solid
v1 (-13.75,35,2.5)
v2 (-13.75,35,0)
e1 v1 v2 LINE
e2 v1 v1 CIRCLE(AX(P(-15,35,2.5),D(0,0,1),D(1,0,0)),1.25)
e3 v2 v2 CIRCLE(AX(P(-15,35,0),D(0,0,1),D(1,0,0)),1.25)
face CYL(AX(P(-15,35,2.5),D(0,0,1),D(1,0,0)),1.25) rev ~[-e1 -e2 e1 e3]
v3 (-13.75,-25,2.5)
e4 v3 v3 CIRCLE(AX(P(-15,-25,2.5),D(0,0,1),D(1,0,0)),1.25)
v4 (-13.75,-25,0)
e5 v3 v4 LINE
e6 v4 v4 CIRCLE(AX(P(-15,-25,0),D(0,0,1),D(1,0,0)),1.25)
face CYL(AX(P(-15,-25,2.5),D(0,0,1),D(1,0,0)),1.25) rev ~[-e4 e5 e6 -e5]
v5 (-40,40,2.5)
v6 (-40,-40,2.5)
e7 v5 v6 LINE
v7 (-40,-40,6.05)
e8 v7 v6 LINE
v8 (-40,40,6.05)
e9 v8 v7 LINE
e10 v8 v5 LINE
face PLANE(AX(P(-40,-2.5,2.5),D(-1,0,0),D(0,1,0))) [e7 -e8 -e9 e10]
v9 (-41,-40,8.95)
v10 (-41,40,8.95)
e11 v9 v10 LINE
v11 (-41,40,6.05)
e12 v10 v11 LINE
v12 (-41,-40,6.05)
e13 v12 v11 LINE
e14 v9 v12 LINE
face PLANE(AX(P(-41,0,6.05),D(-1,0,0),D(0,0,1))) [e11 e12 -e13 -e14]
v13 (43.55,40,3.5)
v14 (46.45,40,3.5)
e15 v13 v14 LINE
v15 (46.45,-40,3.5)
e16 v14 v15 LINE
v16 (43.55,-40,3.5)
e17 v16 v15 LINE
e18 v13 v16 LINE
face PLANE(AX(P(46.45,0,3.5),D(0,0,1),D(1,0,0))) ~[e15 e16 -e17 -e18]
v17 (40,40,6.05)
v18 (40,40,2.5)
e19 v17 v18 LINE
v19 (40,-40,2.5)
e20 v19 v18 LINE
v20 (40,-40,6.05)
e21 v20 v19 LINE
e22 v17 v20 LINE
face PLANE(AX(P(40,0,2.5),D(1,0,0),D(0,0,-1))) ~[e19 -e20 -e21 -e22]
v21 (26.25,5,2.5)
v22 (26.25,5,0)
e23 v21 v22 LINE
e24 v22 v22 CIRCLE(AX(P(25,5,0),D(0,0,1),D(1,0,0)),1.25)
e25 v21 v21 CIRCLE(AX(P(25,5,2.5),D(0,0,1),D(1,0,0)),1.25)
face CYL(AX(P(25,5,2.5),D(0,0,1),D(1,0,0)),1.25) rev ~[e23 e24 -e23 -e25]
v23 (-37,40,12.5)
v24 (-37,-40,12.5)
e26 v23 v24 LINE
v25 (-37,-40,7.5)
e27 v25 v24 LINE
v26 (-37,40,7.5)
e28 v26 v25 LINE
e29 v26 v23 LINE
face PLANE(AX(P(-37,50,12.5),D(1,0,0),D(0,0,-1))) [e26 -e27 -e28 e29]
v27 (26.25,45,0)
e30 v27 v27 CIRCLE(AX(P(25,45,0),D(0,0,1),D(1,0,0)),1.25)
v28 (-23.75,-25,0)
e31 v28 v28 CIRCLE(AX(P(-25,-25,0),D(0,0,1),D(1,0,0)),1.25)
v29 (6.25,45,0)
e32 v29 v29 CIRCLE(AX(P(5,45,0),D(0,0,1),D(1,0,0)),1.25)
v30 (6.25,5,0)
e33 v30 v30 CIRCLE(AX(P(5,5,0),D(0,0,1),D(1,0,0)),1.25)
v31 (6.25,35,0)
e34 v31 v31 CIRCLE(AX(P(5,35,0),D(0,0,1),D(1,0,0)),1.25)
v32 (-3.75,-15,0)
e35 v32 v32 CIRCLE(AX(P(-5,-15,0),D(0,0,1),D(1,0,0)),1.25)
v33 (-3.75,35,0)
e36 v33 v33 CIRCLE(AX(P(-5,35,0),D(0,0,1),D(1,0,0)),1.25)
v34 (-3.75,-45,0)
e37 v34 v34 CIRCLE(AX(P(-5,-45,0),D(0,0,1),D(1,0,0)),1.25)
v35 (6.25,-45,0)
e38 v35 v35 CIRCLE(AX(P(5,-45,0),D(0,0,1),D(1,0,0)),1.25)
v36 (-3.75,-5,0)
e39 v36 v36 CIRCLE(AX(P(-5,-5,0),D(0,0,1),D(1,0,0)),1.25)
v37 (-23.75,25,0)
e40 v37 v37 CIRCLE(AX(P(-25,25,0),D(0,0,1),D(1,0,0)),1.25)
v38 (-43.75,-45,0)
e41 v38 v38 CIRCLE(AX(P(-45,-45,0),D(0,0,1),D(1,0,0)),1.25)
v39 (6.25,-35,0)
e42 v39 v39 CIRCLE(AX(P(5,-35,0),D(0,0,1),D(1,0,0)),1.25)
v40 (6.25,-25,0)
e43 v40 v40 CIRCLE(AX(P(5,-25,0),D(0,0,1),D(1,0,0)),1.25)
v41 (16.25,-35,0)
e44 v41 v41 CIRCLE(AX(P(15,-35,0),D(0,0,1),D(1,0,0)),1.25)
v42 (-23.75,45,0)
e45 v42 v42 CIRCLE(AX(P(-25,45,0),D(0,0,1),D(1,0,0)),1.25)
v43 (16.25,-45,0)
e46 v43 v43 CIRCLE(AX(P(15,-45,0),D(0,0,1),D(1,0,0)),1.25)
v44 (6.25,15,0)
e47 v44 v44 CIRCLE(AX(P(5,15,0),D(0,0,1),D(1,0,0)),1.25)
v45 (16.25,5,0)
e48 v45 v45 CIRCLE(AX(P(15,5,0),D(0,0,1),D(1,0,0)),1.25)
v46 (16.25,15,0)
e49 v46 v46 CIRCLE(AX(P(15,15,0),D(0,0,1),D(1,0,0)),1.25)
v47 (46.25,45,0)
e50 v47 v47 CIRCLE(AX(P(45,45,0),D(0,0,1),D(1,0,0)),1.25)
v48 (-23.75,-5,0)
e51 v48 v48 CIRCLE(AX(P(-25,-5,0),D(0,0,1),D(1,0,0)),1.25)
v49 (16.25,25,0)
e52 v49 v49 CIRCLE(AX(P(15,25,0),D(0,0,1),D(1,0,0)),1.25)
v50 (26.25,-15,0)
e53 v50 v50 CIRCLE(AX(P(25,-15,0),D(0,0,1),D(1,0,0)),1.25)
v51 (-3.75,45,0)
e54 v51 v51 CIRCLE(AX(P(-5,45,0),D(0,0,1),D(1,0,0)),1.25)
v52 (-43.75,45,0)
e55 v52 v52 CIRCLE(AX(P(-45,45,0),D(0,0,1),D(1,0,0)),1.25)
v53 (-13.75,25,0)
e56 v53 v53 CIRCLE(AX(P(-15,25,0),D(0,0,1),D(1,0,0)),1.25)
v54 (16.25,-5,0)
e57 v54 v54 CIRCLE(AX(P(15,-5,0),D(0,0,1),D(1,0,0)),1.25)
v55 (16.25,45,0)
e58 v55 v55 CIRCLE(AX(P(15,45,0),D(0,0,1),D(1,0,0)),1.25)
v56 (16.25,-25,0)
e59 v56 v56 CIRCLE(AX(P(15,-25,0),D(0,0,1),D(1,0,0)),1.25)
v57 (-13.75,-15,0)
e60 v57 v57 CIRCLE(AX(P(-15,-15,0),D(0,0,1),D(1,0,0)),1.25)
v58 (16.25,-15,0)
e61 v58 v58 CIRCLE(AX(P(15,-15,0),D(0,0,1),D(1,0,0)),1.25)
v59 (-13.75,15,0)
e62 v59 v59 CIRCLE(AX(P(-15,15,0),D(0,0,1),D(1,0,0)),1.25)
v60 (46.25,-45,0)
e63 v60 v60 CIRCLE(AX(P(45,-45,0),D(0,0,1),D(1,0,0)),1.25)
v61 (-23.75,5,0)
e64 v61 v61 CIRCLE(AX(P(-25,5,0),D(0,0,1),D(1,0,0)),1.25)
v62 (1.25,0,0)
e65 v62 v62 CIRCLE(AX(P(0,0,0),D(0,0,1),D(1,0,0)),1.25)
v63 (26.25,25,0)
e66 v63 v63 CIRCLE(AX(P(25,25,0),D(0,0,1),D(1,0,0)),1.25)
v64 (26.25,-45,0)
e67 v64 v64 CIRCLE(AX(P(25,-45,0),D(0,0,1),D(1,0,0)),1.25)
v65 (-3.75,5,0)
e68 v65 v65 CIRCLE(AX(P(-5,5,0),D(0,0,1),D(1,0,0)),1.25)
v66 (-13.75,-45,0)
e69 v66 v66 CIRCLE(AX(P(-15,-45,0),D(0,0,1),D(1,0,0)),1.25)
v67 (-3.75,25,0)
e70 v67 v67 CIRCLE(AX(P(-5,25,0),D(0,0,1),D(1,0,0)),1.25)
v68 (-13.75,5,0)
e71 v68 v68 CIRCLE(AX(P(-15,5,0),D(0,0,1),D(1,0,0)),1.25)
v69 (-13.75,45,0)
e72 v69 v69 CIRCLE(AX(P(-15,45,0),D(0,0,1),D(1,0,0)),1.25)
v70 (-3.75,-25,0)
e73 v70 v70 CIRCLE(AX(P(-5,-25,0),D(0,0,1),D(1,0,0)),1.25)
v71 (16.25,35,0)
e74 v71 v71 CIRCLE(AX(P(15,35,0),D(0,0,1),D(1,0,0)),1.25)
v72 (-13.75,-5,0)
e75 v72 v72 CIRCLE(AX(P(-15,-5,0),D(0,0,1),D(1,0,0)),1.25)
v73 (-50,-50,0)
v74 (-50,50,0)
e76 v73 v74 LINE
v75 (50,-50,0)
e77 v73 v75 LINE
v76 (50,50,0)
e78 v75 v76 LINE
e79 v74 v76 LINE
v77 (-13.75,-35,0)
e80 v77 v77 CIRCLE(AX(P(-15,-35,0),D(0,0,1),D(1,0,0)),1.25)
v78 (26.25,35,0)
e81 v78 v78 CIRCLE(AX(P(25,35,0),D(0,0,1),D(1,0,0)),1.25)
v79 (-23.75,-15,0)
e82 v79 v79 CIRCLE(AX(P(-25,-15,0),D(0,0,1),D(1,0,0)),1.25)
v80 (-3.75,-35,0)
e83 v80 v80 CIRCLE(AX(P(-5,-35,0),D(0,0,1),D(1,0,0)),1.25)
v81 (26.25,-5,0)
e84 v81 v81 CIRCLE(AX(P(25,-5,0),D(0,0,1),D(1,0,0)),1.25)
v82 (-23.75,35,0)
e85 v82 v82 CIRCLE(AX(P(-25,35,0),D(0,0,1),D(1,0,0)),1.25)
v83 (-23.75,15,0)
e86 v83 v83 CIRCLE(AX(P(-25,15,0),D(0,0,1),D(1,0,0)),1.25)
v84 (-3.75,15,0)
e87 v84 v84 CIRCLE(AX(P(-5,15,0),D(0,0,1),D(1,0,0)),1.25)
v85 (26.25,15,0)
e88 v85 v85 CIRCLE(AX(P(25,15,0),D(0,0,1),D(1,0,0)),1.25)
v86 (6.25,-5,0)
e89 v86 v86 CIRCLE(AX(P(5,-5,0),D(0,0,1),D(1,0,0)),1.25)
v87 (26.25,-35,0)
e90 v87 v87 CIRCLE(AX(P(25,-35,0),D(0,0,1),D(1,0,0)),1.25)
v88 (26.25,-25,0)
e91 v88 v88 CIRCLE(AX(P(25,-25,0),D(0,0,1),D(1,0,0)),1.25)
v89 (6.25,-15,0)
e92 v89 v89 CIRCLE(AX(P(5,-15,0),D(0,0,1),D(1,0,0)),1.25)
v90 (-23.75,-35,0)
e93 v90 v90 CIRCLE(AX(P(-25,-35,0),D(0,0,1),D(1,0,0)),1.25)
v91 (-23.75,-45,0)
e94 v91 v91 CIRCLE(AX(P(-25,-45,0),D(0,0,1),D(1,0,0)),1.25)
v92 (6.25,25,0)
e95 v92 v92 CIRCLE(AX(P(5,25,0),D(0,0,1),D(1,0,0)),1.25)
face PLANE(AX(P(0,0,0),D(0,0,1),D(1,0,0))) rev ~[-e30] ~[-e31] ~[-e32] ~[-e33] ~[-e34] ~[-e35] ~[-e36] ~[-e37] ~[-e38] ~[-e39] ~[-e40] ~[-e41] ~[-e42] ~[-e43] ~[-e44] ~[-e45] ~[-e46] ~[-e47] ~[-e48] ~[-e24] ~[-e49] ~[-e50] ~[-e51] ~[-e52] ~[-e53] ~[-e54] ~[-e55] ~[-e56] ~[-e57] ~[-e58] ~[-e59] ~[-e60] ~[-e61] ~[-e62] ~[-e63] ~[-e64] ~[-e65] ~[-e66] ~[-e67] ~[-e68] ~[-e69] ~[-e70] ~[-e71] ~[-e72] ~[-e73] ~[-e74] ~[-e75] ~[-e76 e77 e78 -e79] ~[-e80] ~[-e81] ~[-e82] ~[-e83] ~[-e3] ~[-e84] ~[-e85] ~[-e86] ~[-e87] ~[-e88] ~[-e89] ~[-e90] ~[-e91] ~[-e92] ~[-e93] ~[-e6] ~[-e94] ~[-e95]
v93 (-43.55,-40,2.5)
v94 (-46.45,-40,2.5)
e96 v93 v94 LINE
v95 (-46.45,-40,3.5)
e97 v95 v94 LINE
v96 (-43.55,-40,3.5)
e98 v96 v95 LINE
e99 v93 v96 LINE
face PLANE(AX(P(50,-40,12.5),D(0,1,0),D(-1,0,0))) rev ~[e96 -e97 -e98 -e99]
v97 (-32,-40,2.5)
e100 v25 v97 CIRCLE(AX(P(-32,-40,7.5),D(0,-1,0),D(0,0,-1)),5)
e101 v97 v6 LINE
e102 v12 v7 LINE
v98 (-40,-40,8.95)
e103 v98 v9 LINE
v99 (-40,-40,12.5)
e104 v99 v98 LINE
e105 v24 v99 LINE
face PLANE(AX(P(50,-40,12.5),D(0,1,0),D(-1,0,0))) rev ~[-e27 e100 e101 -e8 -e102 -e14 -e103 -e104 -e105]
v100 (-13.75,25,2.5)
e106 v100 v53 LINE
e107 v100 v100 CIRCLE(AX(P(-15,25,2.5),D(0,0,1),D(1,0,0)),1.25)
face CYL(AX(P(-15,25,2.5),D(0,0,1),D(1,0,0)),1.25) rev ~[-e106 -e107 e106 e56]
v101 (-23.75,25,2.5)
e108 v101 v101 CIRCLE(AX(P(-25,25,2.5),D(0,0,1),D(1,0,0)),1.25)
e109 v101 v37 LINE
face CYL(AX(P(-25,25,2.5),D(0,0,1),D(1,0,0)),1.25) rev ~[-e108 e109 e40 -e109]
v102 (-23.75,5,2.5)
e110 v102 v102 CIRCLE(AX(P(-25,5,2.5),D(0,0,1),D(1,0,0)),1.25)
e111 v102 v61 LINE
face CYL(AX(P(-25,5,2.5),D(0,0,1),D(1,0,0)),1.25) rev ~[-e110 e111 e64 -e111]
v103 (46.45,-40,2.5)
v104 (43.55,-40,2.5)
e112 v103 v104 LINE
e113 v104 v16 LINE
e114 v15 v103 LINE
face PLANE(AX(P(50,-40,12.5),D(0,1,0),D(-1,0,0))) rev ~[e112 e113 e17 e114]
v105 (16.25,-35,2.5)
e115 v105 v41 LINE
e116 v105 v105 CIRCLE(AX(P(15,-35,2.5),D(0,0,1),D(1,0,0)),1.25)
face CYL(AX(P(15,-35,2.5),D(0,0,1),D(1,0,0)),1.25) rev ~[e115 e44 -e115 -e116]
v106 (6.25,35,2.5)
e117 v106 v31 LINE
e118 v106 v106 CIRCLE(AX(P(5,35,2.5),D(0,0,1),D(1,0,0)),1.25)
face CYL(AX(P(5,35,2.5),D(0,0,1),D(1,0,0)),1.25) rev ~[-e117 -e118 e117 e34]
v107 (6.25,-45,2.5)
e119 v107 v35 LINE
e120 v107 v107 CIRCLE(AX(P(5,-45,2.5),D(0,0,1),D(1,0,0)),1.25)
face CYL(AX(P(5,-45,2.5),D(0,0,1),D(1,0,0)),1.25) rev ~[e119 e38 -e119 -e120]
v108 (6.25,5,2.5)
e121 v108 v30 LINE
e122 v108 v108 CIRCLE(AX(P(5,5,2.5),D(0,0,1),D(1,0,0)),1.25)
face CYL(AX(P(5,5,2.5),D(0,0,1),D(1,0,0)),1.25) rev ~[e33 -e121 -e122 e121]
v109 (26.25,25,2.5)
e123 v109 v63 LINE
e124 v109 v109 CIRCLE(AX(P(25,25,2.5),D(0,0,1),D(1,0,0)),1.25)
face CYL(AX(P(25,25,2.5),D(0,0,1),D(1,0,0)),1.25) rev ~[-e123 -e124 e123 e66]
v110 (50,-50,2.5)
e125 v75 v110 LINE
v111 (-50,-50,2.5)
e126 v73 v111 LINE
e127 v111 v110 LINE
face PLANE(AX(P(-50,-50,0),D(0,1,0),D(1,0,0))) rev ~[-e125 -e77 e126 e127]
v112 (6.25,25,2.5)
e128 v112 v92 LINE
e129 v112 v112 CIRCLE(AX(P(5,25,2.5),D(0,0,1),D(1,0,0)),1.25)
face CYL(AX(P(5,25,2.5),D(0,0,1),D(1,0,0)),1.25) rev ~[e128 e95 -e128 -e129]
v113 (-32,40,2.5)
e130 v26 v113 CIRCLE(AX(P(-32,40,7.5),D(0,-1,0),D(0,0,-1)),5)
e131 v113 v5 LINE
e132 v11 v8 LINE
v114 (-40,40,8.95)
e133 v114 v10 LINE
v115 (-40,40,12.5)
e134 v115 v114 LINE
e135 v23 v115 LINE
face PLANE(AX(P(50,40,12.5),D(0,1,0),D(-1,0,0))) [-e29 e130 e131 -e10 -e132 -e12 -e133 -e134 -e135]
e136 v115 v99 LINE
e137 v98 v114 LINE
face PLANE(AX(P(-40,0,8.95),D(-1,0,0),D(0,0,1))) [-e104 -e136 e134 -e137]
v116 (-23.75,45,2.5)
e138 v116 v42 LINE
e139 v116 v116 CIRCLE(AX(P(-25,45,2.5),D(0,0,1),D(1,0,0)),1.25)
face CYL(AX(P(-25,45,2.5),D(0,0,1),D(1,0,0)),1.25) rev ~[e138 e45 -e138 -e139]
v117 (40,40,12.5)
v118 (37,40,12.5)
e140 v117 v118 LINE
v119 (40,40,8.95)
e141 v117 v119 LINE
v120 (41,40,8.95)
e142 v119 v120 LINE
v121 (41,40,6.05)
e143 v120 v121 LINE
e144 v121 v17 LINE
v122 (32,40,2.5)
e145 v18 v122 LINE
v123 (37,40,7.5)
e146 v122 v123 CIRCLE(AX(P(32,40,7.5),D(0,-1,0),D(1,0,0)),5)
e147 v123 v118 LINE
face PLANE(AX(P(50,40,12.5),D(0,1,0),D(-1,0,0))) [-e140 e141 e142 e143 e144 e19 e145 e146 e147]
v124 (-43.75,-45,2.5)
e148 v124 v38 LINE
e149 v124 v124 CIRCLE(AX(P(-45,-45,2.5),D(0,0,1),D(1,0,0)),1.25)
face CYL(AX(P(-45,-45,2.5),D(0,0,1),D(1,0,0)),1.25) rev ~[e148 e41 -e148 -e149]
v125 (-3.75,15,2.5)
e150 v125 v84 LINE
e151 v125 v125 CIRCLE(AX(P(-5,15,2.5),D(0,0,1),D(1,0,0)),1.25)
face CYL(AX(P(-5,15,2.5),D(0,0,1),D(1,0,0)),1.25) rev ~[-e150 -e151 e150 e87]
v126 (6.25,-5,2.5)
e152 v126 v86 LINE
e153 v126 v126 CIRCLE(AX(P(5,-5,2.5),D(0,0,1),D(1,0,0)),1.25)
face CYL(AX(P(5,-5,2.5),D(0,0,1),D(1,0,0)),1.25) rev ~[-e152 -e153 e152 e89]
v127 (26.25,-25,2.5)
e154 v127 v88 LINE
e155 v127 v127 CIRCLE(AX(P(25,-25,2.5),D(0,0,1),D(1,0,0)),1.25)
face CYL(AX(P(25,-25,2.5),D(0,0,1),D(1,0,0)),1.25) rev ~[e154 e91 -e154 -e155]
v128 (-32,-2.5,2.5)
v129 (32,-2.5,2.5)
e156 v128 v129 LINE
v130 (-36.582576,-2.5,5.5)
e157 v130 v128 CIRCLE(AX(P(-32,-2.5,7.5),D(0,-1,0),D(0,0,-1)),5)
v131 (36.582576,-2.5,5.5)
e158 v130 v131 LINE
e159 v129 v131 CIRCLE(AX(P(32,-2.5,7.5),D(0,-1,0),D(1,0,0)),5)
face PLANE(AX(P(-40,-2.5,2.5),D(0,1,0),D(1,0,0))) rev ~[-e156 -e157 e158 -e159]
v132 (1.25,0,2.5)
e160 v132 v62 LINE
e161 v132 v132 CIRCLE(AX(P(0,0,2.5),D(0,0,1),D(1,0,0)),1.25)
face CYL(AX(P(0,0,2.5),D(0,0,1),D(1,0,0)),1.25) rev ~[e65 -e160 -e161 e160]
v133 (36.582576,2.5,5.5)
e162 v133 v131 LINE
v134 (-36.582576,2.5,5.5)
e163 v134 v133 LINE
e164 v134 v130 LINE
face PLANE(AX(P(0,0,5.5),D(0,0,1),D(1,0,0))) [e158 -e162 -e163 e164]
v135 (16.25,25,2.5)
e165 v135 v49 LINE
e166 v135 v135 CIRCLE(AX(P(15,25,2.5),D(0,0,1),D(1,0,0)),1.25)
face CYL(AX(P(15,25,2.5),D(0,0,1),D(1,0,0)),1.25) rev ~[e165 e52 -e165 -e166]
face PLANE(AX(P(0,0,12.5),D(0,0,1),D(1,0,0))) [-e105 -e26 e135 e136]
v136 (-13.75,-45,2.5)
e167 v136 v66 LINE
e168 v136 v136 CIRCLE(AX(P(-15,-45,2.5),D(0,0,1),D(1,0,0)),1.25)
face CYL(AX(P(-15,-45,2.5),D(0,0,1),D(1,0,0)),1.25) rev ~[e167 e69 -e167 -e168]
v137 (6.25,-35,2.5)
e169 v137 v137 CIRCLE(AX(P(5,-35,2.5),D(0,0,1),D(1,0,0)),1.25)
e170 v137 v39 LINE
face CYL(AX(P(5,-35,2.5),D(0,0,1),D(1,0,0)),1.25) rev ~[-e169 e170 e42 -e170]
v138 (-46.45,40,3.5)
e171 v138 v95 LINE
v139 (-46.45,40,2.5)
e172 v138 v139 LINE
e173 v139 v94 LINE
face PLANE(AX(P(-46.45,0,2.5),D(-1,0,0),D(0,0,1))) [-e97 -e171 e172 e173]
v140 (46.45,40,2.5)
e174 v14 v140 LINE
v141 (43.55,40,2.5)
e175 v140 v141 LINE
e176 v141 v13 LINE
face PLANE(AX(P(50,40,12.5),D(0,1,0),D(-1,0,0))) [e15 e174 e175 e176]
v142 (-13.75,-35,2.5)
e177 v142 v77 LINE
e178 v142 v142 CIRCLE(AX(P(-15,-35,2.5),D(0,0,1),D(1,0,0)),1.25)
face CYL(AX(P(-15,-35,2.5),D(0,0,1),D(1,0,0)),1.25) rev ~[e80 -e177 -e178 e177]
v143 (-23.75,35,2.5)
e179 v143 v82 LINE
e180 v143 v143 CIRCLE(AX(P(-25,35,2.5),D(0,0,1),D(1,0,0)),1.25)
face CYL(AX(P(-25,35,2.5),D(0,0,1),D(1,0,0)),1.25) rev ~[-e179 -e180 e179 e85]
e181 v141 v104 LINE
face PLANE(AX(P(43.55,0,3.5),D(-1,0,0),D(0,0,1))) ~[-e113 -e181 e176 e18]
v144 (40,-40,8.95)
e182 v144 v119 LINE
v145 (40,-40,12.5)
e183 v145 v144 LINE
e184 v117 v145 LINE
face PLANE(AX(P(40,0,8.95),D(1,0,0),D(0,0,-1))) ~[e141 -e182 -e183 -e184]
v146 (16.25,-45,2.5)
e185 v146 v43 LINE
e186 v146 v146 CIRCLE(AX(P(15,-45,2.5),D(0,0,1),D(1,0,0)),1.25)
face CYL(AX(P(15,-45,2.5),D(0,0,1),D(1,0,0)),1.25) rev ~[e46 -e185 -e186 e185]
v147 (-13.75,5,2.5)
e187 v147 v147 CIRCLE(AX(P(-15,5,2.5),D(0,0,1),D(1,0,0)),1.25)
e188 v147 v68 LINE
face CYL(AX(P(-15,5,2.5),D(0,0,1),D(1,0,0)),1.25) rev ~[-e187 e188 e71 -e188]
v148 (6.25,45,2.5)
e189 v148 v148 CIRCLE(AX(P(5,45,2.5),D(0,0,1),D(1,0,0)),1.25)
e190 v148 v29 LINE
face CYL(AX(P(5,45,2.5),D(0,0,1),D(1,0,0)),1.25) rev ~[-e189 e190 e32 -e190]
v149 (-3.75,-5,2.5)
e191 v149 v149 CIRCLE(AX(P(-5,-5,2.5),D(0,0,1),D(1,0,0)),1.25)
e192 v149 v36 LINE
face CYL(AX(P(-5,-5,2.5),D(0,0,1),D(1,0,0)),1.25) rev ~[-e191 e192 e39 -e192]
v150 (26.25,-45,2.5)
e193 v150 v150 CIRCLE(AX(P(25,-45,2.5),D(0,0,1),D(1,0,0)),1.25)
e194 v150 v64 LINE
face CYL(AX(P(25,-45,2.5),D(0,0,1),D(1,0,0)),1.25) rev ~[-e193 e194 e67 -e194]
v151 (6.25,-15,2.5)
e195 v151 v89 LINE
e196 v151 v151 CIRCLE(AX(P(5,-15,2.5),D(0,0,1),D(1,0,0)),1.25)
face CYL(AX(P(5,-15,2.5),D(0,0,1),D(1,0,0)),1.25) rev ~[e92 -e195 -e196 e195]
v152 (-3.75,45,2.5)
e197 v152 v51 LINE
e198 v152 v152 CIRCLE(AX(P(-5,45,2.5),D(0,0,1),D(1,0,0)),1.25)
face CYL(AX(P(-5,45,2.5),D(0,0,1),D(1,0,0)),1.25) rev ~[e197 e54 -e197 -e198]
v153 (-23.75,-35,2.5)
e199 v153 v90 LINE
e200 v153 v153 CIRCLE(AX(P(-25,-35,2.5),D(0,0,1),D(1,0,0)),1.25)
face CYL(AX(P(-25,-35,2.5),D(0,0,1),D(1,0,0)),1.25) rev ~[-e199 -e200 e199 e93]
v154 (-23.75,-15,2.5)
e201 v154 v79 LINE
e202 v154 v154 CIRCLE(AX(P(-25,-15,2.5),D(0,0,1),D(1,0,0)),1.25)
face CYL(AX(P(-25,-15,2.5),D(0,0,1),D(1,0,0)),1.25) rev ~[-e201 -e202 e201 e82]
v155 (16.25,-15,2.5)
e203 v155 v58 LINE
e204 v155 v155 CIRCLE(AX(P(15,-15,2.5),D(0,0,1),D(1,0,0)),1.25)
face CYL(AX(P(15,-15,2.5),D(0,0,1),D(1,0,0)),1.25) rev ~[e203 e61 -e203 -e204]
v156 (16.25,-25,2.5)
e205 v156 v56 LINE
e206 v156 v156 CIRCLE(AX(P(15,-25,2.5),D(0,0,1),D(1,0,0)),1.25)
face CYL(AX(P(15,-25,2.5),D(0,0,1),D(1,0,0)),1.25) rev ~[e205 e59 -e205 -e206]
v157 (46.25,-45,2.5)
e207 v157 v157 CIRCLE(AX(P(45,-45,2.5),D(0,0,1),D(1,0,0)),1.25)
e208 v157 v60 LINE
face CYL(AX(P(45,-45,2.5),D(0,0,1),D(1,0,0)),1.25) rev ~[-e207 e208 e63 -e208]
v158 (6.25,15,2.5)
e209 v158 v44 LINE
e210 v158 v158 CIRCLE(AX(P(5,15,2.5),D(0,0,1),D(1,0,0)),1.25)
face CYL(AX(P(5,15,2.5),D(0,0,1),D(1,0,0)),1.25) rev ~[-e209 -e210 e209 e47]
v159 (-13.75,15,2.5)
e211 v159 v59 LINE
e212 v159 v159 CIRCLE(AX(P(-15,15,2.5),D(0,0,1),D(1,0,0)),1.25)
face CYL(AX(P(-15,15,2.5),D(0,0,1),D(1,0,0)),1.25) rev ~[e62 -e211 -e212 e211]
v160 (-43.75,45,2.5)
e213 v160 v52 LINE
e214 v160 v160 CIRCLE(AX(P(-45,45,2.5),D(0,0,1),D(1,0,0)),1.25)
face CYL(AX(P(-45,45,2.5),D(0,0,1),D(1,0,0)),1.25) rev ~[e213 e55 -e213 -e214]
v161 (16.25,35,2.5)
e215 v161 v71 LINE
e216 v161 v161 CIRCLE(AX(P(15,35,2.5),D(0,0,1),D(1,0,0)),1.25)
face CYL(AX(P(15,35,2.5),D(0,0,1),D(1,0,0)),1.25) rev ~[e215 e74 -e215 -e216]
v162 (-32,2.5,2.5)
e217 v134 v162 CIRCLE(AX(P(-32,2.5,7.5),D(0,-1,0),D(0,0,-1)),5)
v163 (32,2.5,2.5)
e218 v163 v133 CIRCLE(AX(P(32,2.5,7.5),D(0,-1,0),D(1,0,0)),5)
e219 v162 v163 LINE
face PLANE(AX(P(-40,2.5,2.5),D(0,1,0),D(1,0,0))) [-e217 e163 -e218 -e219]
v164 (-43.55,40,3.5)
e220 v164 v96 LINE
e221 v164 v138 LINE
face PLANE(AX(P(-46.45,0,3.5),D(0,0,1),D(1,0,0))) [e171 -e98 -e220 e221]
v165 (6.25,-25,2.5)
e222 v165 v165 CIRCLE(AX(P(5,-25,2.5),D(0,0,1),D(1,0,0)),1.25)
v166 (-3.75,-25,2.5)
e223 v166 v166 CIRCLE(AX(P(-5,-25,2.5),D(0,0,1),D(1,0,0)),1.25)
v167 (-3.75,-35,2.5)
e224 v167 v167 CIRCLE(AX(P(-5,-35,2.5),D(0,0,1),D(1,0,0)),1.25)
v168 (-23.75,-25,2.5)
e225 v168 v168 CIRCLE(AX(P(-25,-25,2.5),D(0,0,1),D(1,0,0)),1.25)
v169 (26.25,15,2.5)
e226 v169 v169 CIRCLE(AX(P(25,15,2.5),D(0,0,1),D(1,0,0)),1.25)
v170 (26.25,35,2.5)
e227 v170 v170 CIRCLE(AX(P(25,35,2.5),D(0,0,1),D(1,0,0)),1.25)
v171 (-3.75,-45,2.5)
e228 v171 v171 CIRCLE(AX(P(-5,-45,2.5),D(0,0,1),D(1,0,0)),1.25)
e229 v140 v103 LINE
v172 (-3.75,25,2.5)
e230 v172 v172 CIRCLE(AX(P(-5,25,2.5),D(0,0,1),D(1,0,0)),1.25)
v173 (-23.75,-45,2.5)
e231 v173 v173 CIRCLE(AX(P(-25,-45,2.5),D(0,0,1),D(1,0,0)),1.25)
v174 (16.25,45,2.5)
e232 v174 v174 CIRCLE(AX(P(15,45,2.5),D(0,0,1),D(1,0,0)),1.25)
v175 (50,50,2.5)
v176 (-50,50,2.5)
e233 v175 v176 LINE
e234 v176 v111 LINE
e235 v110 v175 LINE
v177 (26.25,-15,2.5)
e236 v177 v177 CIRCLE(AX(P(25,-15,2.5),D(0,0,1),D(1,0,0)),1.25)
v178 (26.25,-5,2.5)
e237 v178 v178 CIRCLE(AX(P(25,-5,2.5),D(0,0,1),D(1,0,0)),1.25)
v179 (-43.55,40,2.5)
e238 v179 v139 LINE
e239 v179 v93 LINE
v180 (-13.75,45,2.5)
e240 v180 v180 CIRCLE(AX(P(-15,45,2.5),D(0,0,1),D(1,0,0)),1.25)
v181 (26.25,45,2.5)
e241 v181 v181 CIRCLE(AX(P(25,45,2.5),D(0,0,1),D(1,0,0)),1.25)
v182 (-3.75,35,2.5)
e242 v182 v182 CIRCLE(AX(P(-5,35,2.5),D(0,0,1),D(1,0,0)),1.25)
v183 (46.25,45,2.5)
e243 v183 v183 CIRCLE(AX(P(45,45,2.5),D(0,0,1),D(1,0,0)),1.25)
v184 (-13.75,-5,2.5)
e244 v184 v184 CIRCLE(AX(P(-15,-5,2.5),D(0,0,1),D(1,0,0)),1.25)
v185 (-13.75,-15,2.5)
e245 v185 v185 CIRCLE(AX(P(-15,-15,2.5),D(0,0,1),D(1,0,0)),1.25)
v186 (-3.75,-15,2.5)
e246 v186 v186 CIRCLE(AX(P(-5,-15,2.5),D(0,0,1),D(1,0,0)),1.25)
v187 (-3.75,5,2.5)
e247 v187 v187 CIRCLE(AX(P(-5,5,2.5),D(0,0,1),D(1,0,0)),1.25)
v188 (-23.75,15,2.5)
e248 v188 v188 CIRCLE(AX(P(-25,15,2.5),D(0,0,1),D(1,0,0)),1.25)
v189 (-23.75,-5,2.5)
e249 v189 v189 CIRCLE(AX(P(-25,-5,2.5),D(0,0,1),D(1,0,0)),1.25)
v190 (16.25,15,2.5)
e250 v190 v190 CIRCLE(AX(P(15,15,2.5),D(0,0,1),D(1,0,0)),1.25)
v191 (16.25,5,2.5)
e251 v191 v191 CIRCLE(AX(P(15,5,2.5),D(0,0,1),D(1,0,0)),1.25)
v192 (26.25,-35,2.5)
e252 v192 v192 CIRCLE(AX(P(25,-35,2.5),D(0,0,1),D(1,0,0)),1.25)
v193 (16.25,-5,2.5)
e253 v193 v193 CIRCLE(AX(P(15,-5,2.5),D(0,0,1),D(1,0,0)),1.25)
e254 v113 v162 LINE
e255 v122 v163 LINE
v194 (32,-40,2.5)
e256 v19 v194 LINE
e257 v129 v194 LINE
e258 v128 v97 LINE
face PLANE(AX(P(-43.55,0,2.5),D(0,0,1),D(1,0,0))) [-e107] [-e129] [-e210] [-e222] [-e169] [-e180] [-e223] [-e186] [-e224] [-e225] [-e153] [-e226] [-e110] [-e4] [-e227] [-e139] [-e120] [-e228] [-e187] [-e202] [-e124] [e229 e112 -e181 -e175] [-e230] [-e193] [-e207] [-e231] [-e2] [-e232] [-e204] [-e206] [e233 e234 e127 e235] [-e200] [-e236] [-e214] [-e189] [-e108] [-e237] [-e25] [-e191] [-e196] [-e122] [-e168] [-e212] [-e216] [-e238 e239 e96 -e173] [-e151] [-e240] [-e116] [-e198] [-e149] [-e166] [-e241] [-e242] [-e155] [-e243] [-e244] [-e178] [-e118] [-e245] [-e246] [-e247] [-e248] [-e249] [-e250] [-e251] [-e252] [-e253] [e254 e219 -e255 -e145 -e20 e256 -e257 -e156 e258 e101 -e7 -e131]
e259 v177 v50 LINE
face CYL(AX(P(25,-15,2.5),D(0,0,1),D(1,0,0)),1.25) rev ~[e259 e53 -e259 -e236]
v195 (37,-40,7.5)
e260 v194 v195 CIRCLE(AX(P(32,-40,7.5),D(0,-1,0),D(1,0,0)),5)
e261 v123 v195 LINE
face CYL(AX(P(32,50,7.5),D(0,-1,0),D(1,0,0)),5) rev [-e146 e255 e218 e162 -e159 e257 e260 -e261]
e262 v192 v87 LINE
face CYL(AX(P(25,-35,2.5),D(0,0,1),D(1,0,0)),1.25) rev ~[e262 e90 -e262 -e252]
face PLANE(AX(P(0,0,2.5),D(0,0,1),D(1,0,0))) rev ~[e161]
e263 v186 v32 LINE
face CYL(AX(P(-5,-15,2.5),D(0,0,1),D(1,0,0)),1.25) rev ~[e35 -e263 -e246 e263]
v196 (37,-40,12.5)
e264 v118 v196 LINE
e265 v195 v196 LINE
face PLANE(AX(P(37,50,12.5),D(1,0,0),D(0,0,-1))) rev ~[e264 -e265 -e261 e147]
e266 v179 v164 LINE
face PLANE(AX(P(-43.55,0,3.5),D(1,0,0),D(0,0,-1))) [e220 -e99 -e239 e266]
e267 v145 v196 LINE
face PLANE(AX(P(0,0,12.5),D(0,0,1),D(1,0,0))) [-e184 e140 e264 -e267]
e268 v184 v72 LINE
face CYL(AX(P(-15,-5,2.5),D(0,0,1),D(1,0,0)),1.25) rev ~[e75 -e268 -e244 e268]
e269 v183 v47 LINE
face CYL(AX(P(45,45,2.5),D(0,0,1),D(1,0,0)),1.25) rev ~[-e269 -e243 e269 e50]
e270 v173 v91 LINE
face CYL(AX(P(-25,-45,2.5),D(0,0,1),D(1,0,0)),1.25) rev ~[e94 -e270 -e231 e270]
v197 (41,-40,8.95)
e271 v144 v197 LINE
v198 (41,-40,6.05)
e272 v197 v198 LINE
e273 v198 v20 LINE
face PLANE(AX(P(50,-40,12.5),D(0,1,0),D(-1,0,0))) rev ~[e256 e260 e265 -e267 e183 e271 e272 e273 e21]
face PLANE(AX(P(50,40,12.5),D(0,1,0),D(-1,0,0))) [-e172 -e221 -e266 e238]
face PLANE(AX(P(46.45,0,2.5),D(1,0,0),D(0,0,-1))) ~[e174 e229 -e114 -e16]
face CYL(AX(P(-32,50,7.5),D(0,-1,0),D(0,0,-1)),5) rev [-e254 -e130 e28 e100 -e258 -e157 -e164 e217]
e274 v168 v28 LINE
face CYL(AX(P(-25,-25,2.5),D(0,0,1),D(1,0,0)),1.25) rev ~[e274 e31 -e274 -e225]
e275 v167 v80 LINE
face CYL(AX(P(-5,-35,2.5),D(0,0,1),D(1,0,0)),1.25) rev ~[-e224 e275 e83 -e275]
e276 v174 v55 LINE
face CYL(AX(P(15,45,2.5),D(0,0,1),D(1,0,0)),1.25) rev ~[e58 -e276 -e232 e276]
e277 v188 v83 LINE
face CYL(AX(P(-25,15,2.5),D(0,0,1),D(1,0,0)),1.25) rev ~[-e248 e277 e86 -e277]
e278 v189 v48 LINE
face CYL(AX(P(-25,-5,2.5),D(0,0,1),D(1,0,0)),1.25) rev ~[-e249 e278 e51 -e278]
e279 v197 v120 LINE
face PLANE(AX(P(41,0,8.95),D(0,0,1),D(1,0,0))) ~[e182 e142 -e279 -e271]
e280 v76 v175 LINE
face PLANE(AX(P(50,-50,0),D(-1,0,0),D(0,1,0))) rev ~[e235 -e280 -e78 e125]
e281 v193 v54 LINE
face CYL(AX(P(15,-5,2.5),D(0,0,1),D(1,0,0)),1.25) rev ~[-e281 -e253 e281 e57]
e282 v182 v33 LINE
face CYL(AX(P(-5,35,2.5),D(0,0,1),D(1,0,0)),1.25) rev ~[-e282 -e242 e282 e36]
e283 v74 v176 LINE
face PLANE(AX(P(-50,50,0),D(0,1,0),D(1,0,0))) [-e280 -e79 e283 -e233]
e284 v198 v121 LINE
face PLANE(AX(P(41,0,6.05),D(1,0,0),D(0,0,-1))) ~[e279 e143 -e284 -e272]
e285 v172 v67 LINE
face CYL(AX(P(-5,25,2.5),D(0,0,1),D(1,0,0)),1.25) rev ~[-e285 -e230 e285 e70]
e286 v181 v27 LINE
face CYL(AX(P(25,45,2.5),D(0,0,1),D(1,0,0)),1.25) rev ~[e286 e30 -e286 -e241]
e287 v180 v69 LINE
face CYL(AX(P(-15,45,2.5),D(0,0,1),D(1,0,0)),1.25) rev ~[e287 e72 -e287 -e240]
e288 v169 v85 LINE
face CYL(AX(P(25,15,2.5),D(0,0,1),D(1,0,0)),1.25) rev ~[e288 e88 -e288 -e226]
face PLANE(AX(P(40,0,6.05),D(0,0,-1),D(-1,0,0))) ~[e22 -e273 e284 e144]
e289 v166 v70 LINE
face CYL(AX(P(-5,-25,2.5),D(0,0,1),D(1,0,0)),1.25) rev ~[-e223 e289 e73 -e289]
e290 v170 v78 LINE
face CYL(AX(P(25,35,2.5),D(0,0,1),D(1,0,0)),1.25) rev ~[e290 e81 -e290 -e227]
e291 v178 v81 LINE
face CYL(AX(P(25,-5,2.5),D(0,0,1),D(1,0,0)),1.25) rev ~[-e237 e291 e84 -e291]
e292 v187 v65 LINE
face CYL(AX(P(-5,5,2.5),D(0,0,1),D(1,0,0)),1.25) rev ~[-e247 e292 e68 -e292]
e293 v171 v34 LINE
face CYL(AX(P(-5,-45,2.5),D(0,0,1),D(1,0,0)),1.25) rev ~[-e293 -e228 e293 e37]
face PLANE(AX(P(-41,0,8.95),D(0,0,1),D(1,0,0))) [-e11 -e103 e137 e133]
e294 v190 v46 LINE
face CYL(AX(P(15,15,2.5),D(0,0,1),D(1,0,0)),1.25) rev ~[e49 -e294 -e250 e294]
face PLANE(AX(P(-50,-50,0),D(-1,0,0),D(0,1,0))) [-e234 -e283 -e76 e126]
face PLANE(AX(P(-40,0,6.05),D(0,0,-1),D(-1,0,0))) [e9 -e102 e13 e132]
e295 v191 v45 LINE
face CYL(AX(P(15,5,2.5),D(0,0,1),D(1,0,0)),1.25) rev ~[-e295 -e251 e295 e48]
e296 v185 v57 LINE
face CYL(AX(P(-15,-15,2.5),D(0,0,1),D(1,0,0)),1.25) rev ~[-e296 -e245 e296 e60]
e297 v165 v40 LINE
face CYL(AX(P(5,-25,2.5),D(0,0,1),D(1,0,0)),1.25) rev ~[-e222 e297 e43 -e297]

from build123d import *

# Parameters (mm, degrees)
SKETCH1_W            = 100
SKETCH1_H            = 100
MAIN_DEPTH           = 12.5
CUT_EXTRUDE1_DEPTH   = 51
SKETCH3_W            = 74
SKETCH3_H            = 10
CUT_EXTRUDE2_DEPTH   = 101
FILLET1_R            = 5
SKETCH9_W            = 80
SKETCH9_H            = 5
BOSS_EXTRUDE1_DEPTH  = 3
SKETCH4_R            = 1.25
FIXHOLE_DEPTH        = 3.5
LPATTERN1_COUNT      = 6
LPATTERN1_PITCH      = 10
LPATTERN1_COUNT_DIR2 = 10
LPATTERN1_PITCH_DIR2 = 10
SKETCH6_R            = 1.25
CENTRALHOLE_DEPTH    = 3.5
SKETCH7_W            = 100
SKETCH7_H            = 10
CUT_EXTRUDE3_DEPTH   = 10
SKETCH8_R            = 1.25
CUT_EXTRUDE4_DEPTH   = 3.5
LPATTERN2_COUNT      = 2
LPATTERN2_PITCH      = 90
LPATTERN2_COUNT_DIR2 = 2
LPATTERN2_PITCH_DIR2 = 90


with BuildPart() as part:
    # Sketch1 → Main (new body)
    with BuildSketch(Plane.XY):
        Rectangle(SKETCH1_W, SKETCH1_H)
    extrude(amount=MAIN_DEPTH)

    # Sketch2 → Cut-Extrude1 (cut, symmetric)
    with BuildSketch(Plane(origin=(0, 0, 0), x_dir=(1, 0, 0), z_dir=(0, 1, 0))):
        Polygon((-40, -8.95), (-40, -12.5), (-50, -12.5), (-50, -2.5), (-46.45, -2.5), (-46.45, -3.5), (-43.55, -3.5), (-43.55, -2.5), (-40, -2.5), (-40, -6.05), (-41, -6.05), (-41, -8.95), align=None)
    cut_extrude1 = extrude(amount=CUT_EXTRUDE1_DEPTH, both=True, mode=Mode.SUBTRACT)

    # Mirror1: Cut-Extrude1 across plane
    add(cut_extrude1.mirror(Plane(origin=(0, 0, 0), x_dir=(0, 0, 1), z_dir=(1, 0, 0))), mode=Mode.SUBTRACT)

    # Sketch3 → Cut-Extrude2 (cut, through all)
    with BuildSketch(Plane(origin=(0, 50, 0), x_dir=(1, 0, 0), z_dir=(0, 1, 0))):
        with Locations((0, -7.5)):
            Rectangle(SKETCH3_W, SKETCH3_H)
    extrude(amount=-CUT_EXTRUDE2_DEPTH, mode=Mode.SUBTRACT)

    # Fillet1
    fillet1_edges = [part.edges().sort_by_distance(p)[0] for p in [
        (-37, 0, 2.5),
        (37, 0, 2.5),
    ]]
    fillet(fillet1_edges, radius=FILLET1_R)

    # Sketch9 → Boss-Extrude1 (add)
    with BuildSketch(Plane.XY.offset(2.5)):
        Rectangle(SKETCH9_W, SKETCH9_H)
    extrude(amount=BOSS_EXTRUDE1_DEPTH)

    # Sketch4 → FixHole (cut, through all)
    with BuildSketch(Plane.XY.offset(2.5)):
        with Locations((25, -45)):
            Circle(SKETCH4_R)
    fixhole = extrude(amount=-FIXHOLE_DEPTH, mode=Mode.SUBTRACT)

    # LPattern1: FixHole 6 × 10
    with Locations(*[(-i * LPATTERN1_PITCH, j * LPATTERN1_PITCH_DIR2, 0) for i in range(LPATTERN1_COUNT) for j in range(LPATTERN1_COUNT_DIR2) if (i, j) != (0, 0)]):
        add(fixhole, mode=Mode.SUBTRACT)

    # Sketch6 → CentralHole (cut, through all)
    with BuildSketch(Plane.XY.offset(2.5)):
        Circle(SKETCH6_R)
    extrude(amount=-CENTRALHOLE_DEPTH, mode=Mode.SUBTRACT)

    # Sketch7 → Cut-Extrude3 (cut)
    with BuildSketch(Plane(origin=(0, 0, 12.5), x_dir=(-1, 0, 0), z_dir=(0, 0, -1))):
        with Locations((0, -45)):
            Rectangle(SKETCH7_W, SKETCH7_H)
        with Locations((0, 45)):
            Rectangle(SKETCH7_W, SKETCH7_H)
    extrude(amount=CUT_EXTRUDE3_DEPTH, mode=Mode.SUBTRACT)

    # Sketch8 → Cut-Extrude4 (cut, through all)
    with BuildSketch(Plane.XY.offset(2.5)):
        with Locations((-45, 45)):
            Circle(SKETCH8_R)
    cut_extrude4 = extrude(amount=-CUT_EXTRUDE4_DEPTH, mode=Mode.SUBTRACT)

    # LPattern2: Cut-Extrude4 2 × 2
    with Locations(*[(i * LPATTERN2_PITCH, -j * LPATTERN2_PITCH_DIR2, 0) for i in range(LPATTERN2_COUNT) for j in range(LPATTERN2_COUNT_DIR2) if (i, j) != (0, 0)]):
        add(cut_extrude4, mode=Mode.SUBTRACT)


solid = part.part
